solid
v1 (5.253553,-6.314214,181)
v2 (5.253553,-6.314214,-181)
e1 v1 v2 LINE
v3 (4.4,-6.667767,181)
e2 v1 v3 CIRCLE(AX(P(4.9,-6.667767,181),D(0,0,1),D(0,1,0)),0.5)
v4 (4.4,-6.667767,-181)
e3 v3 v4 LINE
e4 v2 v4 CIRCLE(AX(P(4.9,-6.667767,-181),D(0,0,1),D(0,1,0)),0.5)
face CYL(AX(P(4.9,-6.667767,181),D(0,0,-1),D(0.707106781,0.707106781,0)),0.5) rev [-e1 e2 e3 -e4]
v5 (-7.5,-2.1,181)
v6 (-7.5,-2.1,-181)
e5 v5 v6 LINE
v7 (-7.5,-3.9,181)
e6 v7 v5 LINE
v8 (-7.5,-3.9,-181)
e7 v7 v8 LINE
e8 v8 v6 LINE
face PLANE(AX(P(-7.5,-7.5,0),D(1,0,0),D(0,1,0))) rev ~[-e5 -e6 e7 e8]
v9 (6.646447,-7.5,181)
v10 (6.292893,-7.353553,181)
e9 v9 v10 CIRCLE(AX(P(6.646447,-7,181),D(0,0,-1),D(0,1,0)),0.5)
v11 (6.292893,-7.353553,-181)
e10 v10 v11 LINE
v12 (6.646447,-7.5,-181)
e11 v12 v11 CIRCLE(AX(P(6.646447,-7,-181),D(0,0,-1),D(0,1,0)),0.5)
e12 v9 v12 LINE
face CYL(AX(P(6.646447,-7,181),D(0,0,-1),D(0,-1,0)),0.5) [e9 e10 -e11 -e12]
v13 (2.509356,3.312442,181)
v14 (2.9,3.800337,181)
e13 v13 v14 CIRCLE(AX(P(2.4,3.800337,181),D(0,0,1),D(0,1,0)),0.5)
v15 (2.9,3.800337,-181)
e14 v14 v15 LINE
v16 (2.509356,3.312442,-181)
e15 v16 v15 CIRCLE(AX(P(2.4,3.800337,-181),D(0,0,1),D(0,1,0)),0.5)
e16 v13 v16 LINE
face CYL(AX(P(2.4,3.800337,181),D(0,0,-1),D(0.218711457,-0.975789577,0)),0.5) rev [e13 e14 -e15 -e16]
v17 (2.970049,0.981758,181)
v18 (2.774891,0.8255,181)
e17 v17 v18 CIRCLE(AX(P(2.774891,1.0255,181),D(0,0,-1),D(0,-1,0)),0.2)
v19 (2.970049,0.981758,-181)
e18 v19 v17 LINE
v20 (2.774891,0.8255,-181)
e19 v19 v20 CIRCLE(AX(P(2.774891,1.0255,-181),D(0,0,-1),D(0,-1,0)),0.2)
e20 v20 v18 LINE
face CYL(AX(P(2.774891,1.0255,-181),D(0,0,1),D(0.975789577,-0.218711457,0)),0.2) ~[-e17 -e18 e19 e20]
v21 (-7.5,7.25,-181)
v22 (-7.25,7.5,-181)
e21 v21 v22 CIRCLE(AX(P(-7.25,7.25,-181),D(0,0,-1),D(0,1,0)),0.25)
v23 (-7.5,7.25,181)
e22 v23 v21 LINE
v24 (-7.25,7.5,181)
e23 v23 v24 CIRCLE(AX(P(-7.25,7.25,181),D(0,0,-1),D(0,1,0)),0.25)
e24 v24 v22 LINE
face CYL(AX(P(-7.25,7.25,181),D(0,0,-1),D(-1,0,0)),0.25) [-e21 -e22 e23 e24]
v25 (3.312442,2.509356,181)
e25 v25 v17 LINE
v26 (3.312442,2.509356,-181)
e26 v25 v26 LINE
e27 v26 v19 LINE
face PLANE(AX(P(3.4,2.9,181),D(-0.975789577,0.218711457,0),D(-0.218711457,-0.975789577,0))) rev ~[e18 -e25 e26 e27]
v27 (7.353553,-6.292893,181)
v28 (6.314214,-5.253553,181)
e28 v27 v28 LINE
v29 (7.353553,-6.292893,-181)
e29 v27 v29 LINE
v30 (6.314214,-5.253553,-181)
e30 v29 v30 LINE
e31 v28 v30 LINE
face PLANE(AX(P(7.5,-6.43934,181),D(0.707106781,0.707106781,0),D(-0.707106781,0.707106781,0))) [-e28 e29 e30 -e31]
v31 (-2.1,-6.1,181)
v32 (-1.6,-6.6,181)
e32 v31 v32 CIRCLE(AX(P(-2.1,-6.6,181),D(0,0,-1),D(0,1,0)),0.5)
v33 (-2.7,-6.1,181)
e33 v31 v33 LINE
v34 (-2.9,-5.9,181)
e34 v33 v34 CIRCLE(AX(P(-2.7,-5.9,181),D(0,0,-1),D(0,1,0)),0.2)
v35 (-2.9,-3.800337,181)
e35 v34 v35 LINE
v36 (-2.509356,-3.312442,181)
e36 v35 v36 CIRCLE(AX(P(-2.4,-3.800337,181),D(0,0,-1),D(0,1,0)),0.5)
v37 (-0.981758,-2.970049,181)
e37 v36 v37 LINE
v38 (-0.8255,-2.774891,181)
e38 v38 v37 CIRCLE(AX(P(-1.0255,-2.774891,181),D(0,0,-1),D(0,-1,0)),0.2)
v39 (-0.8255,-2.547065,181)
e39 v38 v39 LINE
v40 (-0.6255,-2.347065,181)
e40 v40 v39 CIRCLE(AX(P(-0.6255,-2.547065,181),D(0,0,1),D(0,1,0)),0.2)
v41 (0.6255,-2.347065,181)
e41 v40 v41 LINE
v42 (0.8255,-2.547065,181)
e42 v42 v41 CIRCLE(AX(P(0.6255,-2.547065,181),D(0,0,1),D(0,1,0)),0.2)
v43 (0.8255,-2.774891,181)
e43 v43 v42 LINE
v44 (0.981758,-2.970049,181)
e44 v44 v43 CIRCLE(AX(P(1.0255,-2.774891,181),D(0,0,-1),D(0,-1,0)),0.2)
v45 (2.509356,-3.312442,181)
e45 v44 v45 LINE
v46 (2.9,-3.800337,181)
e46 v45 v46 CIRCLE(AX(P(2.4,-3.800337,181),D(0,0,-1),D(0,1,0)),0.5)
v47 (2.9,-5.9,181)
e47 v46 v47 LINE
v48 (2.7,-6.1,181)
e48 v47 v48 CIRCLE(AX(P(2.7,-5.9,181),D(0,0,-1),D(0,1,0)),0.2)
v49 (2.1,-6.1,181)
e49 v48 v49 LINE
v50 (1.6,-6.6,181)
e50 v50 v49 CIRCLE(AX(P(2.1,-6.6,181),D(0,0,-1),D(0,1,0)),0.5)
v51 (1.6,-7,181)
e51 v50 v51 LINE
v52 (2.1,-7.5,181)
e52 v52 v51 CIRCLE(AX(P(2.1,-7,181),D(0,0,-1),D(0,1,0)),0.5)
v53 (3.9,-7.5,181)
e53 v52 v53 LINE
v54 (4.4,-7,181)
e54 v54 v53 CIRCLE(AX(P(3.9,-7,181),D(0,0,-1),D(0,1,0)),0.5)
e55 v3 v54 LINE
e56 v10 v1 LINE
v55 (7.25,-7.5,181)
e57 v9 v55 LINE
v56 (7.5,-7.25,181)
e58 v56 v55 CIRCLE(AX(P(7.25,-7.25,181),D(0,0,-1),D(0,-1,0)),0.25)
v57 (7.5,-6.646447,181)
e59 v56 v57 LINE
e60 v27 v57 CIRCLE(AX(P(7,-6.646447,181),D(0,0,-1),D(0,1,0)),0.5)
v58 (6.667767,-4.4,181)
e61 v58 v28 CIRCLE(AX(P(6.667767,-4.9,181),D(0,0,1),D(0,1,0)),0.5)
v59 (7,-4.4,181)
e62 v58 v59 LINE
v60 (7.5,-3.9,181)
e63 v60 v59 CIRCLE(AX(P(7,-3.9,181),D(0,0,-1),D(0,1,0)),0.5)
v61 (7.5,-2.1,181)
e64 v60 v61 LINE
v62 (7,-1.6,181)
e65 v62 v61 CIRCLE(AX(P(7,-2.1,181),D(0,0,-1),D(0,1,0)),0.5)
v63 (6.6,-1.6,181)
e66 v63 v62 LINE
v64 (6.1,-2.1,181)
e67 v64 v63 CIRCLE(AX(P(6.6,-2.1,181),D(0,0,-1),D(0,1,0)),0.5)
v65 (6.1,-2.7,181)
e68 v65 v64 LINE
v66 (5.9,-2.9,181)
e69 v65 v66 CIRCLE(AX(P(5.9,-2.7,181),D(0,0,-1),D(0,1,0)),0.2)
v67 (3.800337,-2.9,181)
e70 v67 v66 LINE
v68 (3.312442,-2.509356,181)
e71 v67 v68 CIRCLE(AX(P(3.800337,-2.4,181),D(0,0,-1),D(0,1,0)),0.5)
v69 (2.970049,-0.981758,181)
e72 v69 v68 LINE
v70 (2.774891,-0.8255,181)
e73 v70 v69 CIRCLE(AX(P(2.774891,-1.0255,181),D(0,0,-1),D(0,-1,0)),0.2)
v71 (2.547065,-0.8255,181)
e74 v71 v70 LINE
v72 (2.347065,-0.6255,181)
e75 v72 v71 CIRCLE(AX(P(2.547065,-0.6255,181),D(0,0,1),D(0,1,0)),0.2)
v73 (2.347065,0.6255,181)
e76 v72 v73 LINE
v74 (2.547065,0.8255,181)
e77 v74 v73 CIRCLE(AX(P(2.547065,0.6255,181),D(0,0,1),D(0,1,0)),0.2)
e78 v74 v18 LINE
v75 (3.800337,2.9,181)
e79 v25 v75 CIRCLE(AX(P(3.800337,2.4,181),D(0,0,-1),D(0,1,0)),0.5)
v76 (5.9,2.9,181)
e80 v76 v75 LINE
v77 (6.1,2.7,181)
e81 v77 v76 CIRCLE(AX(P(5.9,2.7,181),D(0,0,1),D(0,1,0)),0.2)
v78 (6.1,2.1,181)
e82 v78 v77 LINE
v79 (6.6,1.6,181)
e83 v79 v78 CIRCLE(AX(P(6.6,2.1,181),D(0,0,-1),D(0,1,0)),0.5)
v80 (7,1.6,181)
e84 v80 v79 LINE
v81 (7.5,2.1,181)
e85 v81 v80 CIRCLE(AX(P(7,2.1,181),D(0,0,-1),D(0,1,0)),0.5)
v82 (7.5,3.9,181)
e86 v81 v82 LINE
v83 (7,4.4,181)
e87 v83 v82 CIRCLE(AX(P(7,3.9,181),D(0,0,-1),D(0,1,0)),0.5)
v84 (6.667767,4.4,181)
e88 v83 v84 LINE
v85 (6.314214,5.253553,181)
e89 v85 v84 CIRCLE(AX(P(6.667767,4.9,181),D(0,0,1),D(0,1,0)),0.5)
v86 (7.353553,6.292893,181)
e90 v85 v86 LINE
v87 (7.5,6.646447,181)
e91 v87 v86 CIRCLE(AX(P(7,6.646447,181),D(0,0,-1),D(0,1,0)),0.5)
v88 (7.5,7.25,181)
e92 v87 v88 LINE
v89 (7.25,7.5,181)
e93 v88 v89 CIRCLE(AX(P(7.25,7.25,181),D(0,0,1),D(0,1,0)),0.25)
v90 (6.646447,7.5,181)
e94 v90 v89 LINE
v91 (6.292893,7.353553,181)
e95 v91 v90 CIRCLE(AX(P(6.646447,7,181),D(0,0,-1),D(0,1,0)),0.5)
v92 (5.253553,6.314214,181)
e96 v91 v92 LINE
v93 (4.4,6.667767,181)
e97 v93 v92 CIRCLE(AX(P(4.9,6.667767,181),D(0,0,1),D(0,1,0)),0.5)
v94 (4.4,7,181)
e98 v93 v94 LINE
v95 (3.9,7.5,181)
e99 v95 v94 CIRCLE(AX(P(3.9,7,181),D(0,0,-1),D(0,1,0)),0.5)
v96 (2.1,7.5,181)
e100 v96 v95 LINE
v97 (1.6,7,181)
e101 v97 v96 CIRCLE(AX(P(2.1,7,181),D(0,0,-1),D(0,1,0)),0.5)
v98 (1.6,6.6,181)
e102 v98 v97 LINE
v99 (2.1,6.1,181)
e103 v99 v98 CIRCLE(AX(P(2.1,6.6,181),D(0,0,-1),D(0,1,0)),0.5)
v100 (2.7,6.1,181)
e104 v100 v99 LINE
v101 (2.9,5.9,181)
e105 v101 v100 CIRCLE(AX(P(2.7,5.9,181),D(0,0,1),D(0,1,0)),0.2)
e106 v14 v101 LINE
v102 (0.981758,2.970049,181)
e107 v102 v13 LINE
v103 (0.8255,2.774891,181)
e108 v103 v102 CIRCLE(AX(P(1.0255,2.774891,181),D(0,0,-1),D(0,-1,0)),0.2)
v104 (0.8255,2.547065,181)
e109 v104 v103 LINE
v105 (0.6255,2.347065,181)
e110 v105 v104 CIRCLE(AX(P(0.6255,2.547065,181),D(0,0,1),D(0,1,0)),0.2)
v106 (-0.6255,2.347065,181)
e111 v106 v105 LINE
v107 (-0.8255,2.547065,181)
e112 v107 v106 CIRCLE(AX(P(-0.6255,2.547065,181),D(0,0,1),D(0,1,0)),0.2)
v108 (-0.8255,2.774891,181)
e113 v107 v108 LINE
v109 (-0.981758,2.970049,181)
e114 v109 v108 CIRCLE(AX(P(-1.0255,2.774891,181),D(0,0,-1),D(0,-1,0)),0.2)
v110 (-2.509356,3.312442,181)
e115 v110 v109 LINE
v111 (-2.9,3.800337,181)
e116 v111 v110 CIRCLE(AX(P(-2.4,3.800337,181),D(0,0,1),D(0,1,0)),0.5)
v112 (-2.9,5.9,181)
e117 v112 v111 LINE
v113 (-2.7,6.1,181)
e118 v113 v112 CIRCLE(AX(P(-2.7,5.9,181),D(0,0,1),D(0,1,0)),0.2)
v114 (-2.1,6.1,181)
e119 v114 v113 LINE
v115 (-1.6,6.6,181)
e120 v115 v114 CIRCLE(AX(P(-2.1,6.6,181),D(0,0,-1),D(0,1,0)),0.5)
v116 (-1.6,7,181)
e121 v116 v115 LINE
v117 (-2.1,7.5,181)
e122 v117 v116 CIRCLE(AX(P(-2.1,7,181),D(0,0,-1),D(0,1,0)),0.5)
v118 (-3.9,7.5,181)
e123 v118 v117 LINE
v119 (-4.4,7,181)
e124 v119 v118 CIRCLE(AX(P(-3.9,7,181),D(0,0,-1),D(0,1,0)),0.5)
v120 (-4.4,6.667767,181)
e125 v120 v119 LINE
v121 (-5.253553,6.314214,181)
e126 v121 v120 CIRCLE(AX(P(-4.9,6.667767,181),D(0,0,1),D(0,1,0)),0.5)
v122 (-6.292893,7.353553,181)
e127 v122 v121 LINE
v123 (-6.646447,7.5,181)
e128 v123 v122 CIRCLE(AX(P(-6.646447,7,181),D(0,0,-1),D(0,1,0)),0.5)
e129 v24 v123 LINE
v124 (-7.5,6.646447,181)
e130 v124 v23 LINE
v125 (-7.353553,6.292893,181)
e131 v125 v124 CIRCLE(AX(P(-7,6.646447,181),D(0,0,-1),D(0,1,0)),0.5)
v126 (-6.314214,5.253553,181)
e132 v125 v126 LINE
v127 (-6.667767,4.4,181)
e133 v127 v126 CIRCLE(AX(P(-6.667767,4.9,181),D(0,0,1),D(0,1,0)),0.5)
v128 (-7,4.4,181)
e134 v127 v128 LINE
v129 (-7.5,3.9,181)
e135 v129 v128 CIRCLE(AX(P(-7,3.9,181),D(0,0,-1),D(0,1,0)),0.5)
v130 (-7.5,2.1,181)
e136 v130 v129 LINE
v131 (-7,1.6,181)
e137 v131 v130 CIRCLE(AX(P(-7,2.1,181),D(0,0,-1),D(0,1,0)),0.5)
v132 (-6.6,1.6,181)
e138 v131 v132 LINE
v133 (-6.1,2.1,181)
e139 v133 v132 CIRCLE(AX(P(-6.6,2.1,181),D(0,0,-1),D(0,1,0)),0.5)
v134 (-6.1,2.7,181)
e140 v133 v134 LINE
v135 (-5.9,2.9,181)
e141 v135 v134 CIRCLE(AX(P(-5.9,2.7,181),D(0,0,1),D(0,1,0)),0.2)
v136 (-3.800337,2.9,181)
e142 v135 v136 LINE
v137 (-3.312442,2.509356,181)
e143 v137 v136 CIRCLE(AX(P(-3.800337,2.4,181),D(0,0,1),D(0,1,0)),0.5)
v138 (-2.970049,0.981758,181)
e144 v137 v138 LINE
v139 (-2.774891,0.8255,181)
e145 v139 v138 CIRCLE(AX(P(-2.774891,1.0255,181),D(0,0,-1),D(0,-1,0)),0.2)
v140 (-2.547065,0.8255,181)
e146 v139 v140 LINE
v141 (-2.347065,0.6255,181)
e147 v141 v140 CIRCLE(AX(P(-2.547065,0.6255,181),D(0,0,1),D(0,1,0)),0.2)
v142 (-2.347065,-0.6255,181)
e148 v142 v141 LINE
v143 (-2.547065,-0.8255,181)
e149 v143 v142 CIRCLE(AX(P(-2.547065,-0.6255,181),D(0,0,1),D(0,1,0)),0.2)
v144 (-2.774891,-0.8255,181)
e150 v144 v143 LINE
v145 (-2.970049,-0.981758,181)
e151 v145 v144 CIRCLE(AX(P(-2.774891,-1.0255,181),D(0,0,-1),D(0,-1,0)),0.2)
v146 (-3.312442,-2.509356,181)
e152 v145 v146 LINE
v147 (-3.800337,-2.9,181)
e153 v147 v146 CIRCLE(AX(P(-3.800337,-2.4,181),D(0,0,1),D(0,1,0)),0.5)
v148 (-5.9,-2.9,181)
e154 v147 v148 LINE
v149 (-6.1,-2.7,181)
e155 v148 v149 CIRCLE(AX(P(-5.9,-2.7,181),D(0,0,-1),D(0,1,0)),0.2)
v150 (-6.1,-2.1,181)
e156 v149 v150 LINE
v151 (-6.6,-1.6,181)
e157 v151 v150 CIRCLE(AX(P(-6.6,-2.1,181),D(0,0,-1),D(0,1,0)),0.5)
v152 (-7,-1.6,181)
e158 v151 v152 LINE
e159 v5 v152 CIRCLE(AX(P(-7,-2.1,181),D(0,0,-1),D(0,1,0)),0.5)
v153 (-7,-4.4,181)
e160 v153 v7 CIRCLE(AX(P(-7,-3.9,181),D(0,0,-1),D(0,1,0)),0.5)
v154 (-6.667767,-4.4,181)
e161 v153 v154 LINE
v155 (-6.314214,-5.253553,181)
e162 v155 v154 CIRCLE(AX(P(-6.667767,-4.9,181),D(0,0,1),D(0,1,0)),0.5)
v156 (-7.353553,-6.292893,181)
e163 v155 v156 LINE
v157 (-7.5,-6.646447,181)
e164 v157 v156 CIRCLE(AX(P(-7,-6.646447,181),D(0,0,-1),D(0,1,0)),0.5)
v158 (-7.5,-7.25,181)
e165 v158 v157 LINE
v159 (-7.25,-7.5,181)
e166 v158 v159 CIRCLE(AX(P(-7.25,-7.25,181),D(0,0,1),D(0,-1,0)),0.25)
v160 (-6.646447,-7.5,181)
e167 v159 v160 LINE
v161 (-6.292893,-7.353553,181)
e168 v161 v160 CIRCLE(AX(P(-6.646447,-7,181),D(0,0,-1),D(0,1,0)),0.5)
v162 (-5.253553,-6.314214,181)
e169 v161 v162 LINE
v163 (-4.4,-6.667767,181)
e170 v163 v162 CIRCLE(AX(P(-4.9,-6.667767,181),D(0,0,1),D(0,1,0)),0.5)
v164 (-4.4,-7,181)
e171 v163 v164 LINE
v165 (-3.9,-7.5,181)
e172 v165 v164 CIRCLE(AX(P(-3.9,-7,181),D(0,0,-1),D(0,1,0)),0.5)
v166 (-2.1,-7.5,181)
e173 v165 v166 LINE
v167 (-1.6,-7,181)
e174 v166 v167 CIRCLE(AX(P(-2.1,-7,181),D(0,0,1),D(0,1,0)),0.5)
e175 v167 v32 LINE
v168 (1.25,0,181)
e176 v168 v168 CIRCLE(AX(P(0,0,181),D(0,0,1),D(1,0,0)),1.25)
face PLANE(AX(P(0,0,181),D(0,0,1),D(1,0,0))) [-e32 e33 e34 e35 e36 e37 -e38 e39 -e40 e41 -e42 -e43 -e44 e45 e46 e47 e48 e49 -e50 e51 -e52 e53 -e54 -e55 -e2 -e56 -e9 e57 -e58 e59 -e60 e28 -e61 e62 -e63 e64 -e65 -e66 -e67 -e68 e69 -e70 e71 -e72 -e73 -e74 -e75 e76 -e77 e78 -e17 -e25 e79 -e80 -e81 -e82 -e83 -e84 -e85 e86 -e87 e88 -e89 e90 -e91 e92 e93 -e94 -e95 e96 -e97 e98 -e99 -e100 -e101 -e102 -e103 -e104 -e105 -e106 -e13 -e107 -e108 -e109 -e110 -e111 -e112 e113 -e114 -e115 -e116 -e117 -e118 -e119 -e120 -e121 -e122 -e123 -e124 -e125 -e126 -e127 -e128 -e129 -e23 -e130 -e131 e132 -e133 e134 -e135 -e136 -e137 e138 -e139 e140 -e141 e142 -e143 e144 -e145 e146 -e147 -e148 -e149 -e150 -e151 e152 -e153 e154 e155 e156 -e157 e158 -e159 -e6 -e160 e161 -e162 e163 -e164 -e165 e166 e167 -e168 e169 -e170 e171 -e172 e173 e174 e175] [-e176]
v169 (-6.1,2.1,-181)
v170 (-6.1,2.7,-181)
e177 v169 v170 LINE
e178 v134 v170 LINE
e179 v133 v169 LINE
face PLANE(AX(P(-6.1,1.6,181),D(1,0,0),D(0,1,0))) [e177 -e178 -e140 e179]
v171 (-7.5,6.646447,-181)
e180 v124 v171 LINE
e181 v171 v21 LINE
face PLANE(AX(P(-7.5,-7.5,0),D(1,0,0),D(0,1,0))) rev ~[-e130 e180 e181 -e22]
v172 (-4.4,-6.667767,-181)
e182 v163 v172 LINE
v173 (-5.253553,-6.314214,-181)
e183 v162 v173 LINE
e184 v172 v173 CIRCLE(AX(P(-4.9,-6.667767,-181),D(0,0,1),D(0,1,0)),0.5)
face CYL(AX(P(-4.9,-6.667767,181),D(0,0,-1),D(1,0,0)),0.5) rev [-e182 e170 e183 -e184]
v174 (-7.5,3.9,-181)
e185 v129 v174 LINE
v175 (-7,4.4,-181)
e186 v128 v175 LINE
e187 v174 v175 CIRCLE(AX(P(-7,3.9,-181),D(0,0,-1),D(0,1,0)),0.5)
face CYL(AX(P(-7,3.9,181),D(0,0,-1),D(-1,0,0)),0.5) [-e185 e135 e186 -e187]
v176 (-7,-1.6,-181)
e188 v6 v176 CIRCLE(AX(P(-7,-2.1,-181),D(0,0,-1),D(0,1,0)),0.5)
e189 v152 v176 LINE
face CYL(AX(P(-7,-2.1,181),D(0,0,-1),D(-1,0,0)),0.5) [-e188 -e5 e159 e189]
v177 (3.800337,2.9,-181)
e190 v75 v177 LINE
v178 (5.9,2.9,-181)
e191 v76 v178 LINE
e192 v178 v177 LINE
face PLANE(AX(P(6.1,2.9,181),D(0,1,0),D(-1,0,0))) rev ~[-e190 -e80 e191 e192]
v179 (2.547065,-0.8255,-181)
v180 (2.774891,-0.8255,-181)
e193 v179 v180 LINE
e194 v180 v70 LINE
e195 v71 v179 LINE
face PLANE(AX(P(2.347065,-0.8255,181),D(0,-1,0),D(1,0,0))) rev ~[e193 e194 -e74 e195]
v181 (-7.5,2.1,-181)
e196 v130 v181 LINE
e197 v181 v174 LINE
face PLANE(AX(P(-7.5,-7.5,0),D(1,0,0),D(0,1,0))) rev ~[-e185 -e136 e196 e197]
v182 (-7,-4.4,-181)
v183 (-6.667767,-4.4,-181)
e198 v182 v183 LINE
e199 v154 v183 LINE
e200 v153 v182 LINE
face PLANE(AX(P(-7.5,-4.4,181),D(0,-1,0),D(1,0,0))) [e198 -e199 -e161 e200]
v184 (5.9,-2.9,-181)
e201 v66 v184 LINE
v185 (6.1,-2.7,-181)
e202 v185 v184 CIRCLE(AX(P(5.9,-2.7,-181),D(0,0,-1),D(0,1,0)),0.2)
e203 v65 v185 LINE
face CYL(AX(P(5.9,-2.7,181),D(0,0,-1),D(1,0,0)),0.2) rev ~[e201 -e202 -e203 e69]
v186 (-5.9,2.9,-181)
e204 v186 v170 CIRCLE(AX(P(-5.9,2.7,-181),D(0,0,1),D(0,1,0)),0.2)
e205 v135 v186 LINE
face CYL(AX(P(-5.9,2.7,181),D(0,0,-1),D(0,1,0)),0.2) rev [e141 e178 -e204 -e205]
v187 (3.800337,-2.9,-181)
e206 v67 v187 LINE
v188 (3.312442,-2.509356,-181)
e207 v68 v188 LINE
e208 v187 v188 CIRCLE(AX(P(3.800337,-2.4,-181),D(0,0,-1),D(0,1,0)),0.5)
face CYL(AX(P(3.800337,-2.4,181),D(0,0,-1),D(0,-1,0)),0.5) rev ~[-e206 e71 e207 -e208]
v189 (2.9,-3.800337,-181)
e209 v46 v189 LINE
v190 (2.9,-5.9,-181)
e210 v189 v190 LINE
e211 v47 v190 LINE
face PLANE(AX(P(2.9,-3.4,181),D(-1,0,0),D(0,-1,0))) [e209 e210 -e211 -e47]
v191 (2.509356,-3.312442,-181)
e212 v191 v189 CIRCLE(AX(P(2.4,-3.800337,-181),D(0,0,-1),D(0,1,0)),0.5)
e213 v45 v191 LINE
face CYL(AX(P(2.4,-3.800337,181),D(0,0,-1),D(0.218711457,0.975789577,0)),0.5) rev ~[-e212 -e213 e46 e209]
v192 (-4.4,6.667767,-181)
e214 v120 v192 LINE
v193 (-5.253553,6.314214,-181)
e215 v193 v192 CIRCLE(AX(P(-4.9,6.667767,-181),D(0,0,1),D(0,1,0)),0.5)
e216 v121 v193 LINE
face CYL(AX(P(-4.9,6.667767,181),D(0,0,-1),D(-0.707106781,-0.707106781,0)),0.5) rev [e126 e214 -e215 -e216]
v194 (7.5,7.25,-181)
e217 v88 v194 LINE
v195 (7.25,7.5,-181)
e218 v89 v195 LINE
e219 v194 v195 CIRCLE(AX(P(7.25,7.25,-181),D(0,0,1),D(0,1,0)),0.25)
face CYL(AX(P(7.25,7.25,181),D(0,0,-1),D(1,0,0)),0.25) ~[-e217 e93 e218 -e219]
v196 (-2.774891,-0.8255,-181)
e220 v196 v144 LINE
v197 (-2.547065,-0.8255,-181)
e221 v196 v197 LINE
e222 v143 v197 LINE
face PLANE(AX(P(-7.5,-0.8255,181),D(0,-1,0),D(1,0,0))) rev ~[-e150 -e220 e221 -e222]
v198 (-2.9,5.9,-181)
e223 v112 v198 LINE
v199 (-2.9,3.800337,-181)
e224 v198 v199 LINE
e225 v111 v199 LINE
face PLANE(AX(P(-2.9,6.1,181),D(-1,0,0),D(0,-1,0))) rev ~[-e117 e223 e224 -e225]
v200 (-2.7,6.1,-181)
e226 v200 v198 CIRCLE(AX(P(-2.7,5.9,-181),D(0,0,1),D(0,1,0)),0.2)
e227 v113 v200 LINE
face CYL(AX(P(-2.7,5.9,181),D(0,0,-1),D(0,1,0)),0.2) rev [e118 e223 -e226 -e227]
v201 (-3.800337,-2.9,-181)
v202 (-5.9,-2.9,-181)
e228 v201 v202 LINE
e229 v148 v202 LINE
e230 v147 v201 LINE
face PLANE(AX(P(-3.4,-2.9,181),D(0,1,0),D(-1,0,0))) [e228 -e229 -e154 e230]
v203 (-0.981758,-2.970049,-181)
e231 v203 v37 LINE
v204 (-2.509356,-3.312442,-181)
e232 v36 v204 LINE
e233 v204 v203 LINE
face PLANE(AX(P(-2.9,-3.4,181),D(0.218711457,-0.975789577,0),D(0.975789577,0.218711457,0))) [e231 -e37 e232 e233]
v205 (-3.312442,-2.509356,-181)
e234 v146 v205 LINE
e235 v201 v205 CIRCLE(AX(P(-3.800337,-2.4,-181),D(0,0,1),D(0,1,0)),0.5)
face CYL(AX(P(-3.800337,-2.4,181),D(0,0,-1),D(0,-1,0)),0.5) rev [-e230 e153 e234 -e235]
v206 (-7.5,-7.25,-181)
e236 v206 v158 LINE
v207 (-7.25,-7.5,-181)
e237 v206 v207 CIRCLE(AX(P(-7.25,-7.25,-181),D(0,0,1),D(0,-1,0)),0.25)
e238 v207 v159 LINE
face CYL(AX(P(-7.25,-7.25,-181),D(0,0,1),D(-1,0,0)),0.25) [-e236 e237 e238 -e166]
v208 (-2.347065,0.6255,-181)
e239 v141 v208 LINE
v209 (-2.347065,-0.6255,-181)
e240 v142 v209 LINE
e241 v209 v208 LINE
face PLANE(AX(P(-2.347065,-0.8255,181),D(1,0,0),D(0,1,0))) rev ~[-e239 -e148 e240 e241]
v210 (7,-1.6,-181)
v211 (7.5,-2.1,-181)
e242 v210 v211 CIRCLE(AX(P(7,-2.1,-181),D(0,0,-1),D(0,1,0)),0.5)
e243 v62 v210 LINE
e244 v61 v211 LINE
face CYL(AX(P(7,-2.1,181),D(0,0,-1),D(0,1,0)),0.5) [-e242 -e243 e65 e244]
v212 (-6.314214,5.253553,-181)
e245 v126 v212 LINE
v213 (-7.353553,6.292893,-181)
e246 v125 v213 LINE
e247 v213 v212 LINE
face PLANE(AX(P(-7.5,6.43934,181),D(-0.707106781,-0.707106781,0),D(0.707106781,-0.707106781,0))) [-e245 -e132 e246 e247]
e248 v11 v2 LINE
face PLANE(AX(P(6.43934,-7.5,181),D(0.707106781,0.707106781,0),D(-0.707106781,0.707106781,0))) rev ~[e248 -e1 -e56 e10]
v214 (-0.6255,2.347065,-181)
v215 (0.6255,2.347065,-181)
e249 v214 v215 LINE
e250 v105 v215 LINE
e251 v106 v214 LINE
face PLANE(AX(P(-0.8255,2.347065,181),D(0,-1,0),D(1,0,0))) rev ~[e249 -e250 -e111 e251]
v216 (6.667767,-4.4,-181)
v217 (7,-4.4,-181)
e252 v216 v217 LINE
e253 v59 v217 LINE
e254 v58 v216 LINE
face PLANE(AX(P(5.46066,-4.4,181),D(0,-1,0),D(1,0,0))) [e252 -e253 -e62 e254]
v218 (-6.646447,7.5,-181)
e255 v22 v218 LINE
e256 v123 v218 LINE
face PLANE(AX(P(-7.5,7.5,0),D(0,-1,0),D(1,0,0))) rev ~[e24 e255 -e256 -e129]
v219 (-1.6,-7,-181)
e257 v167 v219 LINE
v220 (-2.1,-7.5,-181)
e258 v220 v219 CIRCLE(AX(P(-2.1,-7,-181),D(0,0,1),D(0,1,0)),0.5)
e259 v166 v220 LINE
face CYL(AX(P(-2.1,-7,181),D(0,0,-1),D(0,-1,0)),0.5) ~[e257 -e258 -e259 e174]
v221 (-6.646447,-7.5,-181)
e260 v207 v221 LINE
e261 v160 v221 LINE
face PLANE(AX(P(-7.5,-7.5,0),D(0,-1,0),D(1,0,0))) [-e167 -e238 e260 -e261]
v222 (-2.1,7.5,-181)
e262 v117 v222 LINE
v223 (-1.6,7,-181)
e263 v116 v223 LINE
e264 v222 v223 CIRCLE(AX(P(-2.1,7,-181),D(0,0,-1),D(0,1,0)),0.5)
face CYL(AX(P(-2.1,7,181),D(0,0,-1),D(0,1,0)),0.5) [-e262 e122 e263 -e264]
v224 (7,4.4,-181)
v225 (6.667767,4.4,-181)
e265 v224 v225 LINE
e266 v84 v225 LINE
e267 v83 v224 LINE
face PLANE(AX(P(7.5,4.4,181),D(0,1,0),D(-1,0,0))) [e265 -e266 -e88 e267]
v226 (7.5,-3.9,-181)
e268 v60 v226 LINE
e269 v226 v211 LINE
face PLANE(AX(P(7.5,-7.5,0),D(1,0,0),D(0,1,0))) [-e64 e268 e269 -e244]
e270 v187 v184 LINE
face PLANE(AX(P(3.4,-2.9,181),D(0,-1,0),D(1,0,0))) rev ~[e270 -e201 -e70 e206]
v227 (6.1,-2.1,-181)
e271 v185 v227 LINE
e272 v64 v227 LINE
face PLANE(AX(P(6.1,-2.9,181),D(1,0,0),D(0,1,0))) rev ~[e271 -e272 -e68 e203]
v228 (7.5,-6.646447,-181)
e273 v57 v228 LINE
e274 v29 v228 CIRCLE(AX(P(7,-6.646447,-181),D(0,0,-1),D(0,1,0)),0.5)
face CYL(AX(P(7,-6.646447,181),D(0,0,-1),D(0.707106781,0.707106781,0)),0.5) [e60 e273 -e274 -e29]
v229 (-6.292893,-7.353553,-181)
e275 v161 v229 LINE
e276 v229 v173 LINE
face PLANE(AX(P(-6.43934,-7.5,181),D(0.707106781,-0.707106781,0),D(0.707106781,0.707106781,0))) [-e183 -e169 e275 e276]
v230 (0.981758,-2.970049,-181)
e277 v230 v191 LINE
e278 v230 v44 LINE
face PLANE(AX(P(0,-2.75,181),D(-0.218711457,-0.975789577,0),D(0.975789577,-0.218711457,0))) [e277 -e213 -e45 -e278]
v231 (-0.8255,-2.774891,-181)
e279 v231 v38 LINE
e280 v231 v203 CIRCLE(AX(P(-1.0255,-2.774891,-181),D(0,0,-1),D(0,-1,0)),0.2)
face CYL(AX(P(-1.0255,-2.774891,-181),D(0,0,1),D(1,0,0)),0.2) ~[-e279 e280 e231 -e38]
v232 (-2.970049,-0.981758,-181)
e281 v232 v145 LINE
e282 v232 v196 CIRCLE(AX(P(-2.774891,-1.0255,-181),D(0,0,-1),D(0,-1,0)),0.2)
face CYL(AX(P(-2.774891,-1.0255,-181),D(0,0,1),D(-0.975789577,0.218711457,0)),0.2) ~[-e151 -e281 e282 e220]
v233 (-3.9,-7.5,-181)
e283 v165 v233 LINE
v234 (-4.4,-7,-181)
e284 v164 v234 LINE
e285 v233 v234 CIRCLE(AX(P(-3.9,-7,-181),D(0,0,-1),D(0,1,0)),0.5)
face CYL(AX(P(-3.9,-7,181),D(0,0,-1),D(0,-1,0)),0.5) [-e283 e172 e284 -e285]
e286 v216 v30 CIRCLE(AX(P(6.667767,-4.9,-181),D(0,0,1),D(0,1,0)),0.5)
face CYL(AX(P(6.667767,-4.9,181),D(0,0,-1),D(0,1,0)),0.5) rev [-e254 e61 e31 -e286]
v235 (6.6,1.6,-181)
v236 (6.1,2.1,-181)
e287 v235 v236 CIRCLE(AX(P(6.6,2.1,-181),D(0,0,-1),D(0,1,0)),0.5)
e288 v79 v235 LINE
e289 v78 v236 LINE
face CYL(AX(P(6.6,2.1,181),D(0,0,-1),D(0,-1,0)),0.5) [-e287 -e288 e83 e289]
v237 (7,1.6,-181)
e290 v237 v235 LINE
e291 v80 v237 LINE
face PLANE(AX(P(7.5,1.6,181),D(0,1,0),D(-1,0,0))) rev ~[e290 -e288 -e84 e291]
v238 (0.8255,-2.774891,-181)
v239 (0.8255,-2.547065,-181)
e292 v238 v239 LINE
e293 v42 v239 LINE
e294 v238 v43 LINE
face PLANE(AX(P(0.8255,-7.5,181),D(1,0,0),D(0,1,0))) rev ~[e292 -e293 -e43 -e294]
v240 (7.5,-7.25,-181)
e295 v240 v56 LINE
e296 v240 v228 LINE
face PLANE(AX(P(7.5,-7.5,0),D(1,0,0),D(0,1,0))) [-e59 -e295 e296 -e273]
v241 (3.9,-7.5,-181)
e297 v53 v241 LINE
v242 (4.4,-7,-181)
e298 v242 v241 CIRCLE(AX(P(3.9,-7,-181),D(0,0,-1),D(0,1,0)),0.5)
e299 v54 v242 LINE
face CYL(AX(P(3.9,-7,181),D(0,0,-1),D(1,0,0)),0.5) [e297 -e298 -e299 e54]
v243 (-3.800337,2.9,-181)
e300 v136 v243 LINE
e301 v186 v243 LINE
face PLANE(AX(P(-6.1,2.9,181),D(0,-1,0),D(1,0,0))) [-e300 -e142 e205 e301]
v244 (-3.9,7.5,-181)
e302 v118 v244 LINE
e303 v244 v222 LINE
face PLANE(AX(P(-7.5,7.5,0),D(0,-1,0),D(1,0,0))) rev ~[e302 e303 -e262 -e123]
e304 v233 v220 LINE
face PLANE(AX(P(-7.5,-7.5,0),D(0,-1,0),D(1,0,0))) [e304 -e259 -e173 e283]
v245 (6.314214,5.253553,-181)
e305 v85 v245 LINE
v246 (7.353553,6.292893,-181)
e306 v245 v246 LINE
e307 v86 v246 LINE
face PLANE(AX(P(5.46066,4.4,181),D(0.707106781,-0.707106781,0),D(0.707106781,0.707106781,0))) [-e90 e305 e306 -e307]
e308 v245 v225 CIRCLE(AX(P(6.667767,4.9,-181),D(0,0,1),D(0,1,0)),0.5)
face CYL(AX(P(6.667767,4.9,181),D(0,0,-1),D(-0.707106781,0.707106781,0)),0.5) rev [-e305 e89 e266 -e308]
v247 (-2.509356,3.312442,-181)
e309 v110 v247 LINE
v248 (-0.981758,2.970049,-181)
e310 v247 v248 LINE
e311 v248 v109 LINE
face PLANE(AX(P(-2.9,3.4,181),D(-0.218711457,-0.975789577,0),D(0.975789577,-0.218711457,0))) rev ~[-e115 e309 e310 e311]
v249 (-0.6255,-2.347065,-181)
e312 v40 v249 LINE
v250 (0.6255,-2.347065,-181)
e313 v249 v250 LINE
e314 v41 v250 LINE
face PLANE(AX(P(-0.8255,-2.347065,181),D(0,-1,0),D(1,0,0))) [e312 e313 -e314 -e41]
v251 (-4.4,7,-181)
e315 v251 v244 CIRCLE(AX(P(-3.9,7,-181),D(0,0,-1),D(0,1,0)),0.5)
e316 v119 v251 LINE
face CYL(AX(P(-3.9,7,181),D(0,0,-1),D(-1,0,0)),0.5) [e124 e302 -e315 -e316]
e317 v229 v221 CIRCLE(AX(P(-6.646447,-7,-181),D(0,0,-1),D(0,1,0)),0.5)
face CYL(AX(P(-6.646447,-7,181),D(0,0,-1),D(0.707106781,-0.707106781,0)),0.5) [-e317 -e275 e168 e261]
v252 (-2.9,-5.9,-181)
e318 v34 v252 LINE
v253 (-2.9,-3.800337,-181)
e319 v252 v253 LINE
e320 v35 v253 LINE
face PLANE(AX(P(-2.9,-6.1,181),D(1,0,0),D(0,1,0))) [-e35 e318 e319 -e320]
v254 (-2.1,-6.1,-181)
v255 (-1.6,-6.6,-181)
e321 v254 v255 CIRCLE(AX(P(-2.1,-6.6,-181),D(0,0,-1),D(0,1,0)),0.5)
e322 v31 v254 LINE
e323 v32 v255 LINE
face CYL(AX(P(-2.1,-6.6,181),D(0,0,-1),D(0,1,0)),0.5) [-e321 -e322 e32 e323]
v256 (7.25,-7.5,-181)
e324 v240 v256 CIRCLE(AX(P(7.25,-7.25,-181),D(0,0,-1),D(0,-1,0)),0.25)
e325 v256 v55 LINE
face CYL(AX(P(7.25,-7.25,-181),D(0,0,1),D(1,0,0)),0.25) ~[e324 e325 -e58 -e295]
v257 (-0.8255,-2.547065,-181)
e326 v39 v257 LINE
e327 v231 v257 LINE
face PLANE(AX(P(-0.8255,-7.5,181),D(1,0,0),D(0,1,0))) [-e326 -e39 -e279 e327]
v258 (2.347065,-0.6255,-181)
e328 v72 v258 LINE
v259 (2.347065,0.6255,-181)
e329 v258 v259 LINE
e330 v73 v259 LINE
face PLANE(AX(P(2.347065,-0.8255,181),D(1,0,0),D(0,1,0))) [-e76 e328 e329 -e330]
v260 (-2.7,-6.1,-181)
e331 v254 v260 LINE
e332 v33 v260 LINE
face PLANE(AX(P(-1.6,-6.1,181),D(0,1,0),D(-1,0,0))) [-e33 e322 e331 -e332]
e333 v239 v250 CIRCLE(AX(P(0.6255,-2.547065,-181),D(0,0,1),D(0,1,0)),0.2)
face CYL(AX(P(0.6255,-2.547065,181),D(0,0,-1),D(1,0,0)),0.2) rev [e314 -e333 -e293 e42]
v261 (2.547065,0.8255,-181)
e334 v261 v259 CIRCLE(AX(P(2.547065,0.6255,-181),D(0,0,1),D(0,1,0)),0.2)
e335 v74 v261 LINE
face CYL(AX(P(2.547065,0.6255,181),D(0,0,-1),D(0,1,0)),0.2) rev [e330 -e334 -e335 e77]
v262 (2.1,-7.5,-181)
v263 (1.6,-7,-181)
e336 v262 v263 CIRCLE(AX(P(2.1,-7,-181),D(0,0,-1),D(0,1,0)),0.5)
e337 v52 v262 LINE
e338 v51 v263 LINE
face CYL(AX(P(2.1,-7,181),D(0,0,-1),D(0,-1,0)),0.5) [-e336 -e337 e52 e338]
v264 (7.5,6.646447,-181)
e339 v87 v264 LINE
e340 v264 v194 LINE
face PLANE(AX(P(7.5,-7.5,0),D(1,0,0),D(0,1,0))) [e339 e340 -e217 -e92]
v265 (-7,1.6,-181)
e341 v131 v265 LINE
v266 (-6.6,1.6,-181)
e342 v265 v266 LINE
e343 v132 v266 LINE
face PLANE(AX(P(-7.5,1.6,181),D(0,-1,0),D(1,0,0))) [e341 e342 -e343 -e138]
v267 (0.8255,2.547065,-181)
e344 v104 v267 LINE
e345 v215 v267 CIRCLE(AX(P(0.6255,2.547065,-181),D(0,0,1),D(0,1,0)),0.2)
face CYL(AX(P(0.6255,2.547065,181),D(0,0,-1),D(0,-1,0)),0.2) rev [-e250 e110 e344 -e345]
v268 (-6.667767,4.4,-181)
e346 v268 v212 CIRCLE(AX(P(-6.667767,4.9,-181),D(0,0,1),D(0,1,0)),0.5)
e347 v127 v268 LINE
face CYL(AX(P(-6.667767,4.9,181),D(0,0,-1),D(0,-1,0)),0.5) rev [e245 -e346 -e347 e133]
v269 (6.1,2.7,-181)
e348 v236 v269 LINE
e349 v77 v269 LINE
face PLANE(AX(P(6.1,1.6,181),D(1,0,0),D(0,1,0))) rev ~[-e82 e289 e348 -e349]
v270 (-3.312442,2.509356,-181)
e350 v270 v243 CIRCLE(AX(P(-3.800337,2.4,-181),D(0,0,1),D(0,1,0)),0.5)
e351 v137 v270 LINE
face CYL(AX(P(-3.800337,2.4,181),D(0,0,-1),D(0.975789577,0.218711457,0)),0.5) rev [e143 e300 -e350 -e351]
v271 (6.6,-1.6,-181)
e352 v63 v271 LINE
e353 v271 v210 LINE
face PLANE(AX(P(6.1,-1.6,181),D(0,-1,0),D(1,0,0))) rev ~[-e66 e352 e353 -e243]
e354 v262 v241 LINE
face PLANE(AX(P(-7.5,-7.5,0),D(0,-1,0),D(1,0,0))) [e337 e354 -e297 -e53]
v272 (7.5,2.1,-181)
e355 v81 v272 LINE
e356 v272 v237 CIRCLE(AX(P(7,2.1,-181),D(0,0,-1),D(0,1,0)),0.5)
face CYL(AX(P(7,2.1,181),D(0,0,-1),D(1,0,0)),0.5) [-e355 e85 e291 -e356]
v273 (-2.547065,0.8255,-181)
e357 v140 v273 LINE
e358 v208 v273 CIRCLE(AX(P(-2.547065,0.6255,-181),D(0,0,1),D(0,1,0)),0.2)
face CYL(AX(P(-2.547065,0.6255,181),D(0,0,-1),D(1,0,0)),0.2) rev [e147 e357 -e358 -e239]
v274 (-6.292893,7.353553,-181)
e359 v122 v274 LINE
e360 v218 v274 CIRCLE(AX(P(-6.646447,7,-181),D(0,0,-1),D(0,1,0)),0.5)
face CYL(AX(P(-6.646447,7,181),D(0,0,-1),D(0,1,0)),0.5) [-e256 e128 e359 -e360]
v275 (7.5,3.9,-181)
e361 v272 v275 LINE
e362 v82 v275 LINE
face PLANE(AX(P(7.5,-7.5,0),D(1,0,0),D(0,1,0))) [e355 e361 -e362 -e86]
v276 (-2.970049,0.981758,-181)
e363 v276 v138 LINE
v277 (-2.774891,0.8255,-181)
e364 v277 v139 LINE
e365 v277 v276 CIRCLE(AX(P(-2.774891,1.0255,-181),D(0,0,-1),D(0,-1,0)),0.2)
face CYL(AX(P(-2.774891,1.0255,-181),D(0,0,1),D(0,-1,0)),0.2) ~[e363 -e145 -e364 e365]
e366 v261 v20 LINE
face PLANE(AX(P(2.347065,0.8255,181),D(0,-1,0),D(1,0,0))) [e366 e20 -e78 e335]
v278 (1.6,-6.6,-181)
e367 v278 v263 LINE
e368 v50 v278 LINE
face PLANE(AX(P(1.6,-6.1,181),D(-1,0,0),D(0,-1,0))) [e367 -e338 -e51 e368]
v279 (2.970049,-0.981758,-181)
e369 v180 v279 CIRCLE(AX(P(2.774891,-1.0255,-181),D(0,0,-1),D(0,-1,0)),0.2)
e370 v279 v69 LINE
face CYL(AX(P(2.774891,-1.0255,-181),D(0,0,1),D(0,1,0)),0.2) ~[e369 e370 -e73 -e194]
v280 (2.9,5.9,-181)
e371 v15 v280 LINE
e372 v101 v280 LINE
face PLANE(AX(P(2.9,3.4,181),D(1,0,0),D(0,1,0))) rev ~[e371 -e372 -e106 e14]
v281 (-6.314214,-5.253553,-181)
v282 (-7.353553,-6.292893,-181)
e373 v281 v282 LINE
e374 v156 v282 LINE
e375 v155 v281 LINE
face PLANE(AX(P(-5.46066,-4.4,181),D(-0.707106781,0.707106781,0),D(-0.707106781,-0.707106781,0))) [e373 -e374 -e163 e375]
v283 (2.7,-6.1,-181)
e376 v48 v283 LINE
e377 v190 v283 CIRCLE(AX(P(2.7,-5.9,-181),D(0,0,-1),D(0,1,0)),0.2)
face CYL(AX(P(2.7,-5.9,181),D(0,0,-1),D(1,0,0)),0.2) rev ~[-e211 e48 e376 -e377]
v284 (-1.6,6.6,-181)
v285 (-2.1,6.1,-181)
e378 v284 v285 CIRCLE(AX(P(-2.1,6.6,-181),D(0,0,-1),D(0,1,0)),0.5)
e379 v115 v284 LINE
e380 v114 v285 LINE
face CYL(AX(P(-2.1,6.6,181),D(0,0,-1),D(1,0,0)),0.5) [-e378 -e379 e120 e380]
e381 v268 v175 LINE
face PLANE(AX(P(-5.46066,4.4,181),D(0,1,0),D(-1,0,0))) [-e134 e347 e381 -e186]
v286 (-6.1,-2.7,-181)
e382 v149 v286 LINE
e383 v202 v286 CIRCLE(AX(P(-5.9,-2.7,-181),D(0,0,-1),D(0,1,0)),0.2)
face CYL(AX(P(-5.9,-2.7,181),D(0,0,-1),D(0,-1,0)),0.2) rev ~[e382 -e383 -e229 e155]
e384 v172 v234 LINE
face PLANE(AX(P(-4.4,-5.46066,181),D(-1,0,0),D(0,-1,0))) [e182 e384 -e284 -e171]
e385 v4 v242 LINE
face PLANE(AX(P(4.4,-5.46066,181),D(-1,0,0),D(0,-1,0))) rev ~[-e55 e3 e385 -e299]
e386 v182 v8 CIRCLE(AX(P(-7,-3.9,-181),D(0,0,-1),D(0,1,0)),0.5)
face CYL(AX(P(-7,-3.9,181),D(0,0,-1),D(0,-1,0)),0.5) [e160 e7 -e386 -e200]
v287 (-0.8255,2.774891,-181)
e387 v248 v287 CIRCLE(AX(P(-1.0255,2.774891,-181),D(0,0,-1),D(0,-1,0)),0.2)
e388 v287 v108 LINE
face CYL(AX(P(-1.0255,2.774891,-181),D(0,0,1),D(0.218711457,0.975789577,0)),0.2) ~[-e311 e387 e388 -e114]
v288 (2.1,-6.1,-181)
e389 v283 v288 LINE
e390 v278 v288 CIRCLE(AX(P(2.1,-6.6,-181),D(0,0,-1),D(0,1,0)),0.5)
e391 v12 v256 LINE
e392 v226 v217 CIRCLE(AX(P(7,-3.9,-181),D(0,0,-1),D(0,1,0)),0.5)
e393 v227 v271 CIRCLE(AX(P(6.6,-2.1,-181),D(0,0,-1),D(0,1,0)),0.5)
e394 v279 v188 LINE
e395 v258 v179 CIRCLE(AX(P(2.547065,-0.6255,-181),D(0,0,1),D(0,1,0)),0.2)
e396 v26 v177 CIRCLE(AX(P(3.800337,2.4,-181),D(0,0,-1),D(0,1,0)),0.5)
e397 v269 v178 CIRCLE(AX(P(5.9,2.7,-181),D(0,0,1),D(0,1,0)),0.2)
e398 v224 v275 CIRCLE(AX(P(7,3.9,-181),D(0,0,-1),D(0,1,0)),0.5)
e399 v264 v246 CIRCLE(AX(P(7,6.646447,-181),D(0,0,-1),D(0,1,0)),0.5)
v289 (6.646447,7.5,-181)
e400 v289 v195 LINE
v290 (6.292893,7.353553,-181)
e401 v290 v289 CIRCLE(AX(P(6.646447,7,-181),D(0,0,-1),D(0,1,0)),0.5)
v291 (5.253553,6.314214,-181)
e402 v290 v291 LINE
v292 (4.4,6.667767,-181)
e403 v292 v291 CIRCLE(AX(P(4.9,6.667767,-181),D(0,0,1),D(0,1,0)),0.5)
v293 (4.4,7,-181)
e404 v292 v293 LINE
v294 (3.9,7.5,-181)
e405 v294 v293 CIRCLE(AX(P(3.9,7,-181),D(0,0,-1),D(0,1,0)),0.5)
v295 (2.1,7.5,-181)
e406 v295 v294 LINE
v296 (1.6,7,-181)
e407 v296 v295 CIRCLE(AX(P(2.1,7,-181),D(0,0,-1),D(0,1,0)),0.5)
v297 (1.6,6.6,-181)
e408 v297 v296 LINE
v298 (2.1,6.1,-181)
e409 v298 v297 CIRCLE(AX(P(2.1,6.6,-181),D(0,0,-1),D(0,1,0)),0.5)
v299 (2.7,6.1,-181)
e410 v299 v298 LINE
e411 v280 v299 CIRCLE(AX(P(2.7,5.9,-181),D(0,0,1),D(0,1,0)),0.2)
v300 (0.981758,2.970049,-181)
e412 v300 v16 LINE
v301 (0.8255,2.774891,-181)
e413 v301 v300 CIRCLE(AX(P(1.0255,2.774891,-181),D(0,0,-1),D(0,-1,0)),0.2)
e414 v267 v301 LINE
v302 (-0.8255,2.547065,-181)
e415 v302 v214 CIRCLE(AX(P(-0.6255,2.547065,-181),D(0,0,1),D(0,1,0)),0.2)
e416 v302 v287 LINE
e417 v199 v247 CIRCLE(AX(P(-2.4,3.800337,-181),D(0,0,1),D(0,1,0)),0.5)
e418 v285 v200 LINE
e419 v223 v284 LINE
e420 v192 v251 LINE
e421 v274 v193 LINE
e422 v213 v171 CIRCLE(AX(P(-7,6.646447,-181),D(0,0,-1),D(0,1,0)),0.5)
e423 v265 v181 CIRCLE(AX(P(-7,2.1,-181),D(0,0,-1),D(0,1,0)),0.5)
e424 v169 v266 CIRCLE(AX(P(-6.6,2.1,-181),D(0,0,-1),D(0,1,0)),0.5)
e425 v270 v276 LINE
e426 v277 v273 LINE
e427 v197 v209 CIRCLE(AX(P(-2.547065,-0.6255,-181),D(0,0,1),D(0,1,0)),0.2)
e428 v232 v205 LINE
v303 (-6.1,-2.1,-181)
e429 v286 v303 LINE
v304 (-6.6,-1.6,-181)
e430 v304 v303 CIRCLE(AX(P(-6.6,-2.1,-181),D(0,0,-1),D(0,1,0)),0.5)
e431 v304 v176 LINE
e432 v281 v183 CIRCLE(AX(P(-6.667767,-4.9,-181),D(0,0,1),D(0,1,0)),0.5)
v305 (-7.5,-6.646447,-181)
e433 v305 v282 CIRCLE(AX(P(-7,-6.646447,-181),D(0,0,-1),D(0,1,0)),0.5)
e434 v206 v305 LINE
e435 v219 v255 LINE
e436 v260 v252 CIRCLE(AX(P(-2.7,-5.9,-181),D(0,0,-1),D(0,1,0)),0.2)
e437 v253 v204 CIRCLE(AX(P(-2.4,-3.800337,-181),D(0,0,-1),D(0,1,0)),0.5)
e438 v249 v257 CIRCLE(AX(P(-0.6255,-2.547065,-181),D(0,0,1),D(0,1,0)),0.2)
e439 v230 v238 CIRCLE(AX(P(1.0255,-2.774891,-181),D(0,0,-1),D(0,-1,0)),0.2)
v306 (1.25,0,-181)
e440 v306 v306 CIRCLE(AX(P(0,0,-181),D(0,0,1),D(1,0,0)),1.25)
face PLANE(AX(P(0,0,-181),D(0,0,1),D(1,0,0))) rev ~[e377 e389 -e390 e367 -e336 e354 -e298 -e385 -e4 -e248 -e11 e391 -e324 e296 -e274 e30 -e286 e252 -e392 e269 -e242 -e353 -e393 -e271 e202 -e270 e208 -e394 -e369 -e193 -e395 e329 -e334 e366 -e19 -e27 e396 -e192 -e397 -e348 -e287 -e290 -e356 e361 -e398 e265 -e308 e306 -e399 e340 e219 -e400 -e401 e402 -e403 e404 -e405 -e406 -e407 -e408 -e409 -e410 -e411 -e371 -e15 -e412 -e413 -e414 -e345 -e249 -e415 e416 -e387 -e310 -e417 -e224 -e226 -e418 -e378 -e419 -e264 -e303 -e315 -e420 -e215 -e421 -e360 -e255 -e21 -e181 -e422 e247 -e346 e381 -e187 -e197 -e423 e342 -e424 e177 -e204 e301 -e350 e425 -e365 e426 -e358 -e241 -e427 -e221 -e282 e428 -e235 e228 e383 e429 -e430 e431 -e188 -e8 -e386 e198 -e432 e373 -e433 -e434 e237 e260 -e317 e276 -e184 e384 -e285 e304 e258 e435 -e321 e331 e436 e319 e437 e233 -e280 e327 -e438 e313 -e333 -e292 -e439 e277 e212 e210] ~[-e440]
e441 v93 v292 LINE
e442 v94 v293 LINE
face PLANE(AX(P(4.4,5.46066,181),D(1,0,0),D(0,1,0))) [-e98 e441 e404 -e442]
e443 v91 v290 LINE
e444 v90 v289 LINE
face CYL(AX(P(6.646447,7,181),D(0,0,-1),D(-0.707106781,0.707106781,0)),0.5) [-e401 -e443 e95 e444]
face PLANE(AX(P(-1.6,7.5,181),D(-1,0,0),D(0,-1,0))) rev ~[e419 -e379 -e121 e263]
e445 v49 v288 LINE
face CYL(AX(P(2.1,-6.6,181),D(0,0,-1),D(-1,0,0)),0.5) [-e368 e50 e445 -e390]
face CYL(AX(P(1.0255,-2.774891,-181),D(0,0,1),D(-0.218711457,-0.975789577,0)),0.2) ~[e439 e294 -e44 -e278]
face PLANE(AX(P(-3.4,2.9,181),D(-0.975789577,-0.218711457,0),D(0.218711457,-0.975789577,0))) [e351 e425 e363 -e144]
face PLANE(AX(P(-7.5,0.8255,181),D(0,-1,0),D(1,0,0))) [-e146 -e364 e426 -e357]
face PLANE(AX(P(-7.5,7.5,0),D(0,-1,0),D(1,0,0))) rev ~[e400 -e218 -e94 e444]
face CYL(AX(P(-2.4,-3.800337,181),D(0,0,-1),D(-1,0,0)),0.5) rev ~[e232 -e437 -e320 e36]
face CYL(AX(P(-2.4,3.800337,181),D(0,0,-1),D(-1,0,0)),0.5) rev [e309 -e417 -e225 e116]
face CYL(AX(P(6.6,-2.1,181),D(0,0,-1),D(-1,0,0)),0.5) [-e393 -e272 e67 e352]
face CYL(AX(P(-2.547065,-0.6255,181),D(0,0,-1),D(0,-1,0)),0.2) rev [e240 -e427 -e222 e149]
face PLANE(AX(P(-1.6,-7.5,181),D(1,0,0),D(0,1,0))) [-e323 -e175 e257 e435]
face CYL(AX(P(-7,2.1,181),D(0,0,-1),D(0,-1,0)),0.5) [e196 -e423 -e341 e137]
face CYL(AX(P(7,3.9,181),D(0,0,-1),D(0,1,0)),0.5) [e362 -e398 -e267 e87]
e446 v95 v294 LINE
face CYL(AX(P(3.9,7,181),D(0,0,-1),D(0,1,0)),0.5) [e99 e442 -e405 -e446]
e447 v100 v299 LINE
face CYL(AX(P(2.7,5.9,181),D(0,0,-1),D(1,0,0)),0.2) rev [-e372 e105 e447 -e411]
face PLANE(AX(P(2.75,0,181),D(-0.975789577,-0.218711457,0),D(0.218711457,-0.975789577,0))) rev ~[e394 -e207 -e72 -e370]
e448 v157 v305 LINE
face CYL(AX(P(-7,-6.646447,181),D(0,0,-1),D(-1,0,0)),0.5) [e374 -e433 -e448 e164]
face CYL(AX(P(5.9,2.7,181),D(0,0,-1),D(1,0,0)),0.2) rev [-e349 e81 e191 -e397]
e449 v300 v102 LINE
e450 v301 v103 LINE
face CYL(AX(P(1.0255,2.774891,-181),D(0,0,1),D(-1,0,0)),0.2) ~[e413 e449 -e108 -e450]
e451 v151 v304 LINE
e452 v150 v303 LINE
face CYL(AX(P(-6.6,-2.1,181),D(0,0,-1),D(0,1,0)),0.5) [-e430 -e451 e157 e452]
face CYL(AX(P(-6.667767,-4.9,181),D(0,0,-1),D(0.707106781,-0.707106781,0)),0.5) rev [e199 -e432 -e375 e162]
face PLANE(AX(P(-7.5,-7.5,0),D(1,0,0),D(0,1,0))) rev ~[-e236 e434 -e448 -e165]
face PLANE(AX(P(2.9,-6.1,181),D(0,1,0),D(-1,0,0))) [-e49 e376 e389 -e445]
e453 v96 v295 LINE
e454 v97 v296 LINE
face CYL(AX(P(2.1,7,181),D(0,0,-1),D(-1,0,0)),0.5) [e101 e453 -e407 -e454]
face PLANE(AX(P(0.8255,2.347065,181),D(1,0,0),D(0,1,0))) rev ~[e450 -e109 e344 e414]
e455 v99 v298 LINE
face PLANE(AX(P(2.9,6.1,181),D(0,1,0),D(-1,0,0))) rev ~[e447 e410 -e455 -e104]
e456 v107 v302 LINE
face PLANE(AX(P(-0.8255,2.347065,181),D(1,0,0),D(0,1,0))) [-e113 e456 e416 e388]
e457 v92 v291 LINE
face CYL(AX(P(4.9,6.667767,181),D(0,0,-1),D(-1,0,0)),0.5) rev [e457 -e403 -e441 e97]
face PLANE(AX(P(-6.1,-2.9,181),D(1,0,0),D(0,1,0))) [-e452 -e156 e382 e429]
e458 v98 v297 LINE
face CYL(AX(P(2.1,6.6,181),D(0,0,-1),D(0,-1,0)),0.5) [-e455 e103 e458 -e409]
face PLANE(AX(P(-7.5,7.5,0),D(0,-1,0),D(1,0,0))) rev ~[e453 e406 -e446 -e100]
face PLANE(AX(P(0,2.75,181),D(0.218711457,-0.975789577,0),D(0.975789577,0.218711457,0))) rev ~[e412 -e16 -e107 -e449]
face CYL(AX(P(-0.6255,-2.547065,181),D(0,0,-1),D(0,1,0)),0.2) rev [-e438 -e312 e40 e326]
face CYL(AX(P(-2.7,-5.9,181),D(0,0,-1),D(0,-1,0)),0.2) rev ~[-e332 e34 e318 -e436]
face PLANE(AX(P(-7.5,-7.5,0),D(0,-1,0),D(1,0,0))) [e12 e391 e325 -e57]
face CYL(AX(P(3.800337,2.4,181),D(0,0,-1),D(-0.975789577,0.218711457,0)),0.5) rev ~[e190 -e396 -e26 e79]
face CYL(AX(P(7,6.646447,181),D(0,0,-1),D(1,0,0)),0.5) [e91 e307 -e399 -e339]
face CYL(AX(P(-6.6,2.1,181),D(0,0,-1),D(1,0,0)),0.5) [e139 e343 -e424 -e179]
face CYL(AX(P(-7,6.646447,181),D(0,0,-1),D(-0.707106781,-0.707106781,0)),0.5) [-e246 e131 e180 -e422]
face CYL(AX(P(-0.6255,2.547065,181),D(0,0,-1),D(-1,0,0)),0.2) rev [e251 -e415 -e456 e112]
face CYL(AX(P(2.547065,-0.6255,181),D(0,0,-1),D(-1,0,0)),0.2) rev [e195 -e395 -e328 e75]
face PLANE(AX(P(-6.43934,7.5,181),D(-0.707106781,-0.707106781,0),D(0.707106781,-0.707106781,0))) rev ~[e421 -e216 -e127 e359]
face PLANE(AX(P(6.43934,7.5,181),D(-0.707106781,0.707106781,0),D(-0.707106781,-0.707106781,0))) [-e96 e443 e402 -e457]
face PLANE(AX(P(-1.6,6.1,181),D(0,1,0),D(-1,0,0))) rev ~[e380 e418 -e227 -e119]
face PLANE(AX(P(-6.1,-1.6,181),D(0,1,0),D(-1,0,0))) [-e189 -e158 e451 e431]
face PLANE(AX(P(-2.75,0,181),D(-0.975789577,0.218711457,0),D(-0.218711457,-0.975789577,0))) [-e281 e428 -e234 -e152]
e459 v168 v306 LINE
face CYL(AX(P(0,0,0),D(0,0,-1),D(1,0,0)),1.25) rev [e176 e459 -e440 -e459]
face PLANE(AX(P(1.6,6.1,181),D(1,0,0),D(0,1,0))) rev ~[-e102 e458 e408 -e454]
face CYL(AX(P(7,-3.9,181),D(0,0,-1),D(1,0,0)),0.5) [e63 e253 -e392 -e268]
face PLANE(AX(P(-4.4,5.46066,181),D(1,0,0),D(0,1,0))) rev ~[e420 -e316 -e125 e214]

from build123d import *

# Parameters (mm, degrees)
SKETCH1_W           = 15
SKETCH1_H           = 15
SKETCH1_R           = 1.25
BOSS_EXTRUDE1_DEPTH = 181
FILLET1_R           = 0.25
CUT_EXTRUDE1_DEPTH  = 363.155353405
CUT_EXTRUDE3_DEPTH  = 363.155353405
FILLET3_R           = 0.5
FILLET4_R           = 0.5
FILLET5_R           = 3
FILLET6_R           = 0.2
CUT_EXTRUDE4_DEPTH  = 363.155353405
FILLET8_R           = 0.5
SKETCH6_W           = 5.1529354
SKETCH6_H           = 1.651
SKETCH6_W_2         = 1.651
SKETCH6_H_2         = 5.1529354
CUT_EXTRUDE5_DEPTH  = 363.155353405
FILLET10_R          = 0.2


with BuildPart() as part:
    # Sketch1 → Boss-Extrude1 (new, symmetric)
    with BuildSketch(Plane.XY):
        Rectangle(SKETCH1_W, SKETCH1_H)
        Circle(SKETCH1_R, mode=Mode.SUBTRACT)
    extrude(amount=BOSS_EXTRUDE1_DEPTH, both=True)

    # Fillet1
    fillet1_edges = [part.edges().sort_by_distance(p)[0] for p in [
        (7.5, -7.5, 0),
        (-7.5, -7.5, 0),
        (-7.5, 7.5, 0),
        (7.5, 7.5, 0),
    ]]
    fillet(fillet1_edges, radius=FILLET1_R)

    # Sketch2 → Cut-Extrude1 (cut, through all)
    with BuildSketch(Plane.XY.offset(181)):
        Polygon((-7.5, 1.6), (-6.1, 1.6), (-6.1, 2.9), (-3.4, 2.9), (-3.4, -2.9), (-6.1, -2.9), (-6.1, -1.6), (-7.5, -1.6), align=None)
        Polygon((2.9, 6.1), (1.6, 6.1), (1.6, 7.5), (-1.6, 7.5), (-1.6, 6.1), (-2.9, 6.1), (-2.9, 3.4), (2.9, 3.4), align=None)
        Polygon((-1.6, -7.5), (-1.6, -6.1), (-2.9, -6.1), (-2.9, -3.4), (2.9, -3.4), (2.9, -6.1), (1.6, -6.1), (1.6, -7.5), align=None)
        Polygon((6.1, -2.9), (6.1, -1.6), (7.5, -1.6), (7.5, 1.6), (6.1, 1.6), (6.1, 2.9), (3.4, 2.9), (3.4, -2.9), align=None)
    extrude(amount=-CUT_EXTRUDE1_DEPTH, mode=Mode.SUBTRACT)

    # Sketch4 → Cut-Extrude3 (cut, through all)
    with BuildSketch(Plane.XY.offset(181)):
        Polygon((-3.4, 2.9), (-2.75, 0), (-3.4, -2.9), align=None)
        Polygon((-2.9, 3.4), (0, 2.75), (2.9, 3.4), align=None)
        Polygon((3.4, 2.9), (2.75, 0), (3.4, -2.9), align=None)
        Polygon((-2.9, -3.4), (0, -2.75), (2.9, -3.4), align=None)
    extrude(amount=-CUT_EXTRUDE3_DEPTH, mode=Mode.SUBTRACT)

    # Fillet3
    fillet3_edges = [part.edges().sort_by_distance(p)[0] for p in [
        (1.6, -7.5, 0),
        (-1.6, -7.5, 0),
        (-1.6, -6.1, 0),
        (1.6, -6.1, 0),
        (6.1, 1.6, 0),
        (7.5, 1.6, 0),
        (7.5, -1.6, 0),
        (6.1, -1.6, 0),
        (-7.5, -1.6, 0),
        (-7.5, 1.6, 0),
        (-6.1, 1.6, 0),
        (-6.1, -1.6, 0),
        (-1.6, 6.1, 0),
        (-1.6, 7.5, 0),
        (1.6, 7.5, 0),
        (1.6, 6.1, 0),
    ]]
    fillet(fillet3_edges, radius=FILLET3_R)

    # Fillet4
    fillet4_edges = [part.edges().sort_by_distance(p)[0] for p in [
        (-2.9, -3.4, 0),
        (2.9, -3.4, 0),
        (3.4, -2.9, 0),
        (3.4, 2.9, 0),
        (-3.4, 2.9, 0),
        (-3.4, -2.9, 0),
        (2.9, 3.4, 0),
        (-2.9, 3.4, 0),
    ]]
    fillet(fillet4_edges, radius=FILLET4_R)

    # Fillet5
    fillet5_edges = [part.edges().sort_by_distance(p)[0] for p in [
        (-2.75, 0, 0),
        (0, 2.75, 0),
        (2.75, 0, 0),
        (0, -2.75, 0),
    ]]
    fillet(fillet5_edges, radius=FILLET5_R)

    # Fillet6
    fillet6_edges = [part.edges().sort_by_distance(p)[0] for p in [
        (-2.9, -6.1, 0),
        (2.9, -6.1, 0),
        (6.1, -2.9, 0),
        (6.1, 2.9, 0),
        (-6.1, 2.9, 0),
        (-6.1, -2.9, 0),
        (2.9, 6.1, 0),
        (-2.9, 6.1, 0),
    ]]
    fillet(fillet6_edges, radius=FILLET6_R)

    # Sketch5 → Cut-Extrude4 (cut, through all)
    with BuildSketch(Plane.XY.offset(181)):
        Polygon((-7.5, 6.439339828), (-5.460660172, 4.4), (-7.5, 4.4), align=None)
        Polygon((-6.439339828, 7.5), (-4.4, 5.460660172), (-4.4, 7.5), align=None)
        Polygon((4.4, 7.5), (6.439339828, 7.5), (4.4, 5.460660172), align=None)
        Polygon((7.5, 6.439339828), (7.5, 4.4), (5.460660172, 4.4), align=None)
        Polygon((7.5, -6.439339828), (5.460660172, -4.4), (7.5, -4.4), align=None)
        Polygon((6.439339828, -7.5), (4.4, -5.460660172), (4.4, -7.5), align=None)
        Polygon((-4.4, -7.5), (-6.439339828, -7.5), (-4.4, -5.460660172), align=None)
        Polygon((-7.5, -6.439339828), (-7.5, -4.4), (-5.460660172, -4.4), align=None)
    extrude(amount=-CUT_EXTRUDE4_DEPTH, mode=Mode.SUBTRACT)

    # Fillet8
    fillet8_edges = [part.edges().sort_by_distance(p)[0] for p in [
        (-7.5, 4.4, 0),
        (-7.5, 6.439339828, 0),
        (-5.460660172, 4.4, 0),
        (7.5, -4.4, 0),
        (7.5, -6.439339828, 0),
        (5.460660172, -4.4, 0),
        (5.460660172, 4.4, 0),
        (7.5, 6.439339828, 0),
        (7.5, 4.4, 0),
        (-4.4, 7.5, 0),
        (-4.4, 5.460660172, 0),
        (-6.439339828, 7.5, 0),
        (-5.460660172, -4.4, 0),
        (-7.5, -6.439339828, 0),
        (-7.5, -4.4, 0),
        (4.4, 5.460660172, 0),
        (4.4, 7.5, 0),
        (6.439339828, 7.5, 0),
        (6.439339828, -7.5, 0),
        (4.4, -7.5, 0),
        (4.4, -5.460660172, 0),
        (-6.439339828, -7.5, 0),
        (-4.4, -5.460660172, 0),
        (-4.4, -7.5, 0),
    ]]
    fillet(fillet8_edges, radius=FILLET8_R)

    # Sketch6 → Cut-Extrude5 (cut, through all)
    with BuildSketch(Plane.XY.offset(181)):
        with Locations((4.9235323, 0)):
            Rectangle(SKETCH6_W, SKETCH6_H)
        with Locations((0, -4.9235323)):
            Rectangle(SKETCH6_W_2, SKETCH6_H_2)
        with Locations((-4.9235323, 0)):
            Rectangle(SKETCH6_W, SKETCH6_H)
        with Locations((0, 4.9235323)):
            Rectangle(SKETCH6_W_2, SKETCH6_H_2)
    extrude(amount=-CUT_EXTRUDE5_DEPTH, mode=Mode.SUBTRACT)

    # Fillet10
    fillet10_edges = [part.edges().sort_by_distance(p)[0] for p in [
        (0.8255, -2.935025862, 0),
        (-0.8255, -2.935025862, 0),
        (0.8255, -2.3470646, 0),
        (-0.8255, -2.3470646, 0),
        (2.935025862, 0.8255, 0),
        (2.935025862, -0.8255, 0),
        (2.3470646, 0.8255, 0),
        (2.3470646, -0.8255, 0),
        (-2.935025862, -0.8255, 0),
        (-2.935025862, 0.8255, 0),
        (-2.3470646, -0.8255, 0),
        (-2.3470646, 0.8255, 0),
        (-0.8255, 2.935025862, 0),
        (0.8255, 2.935025862, 0),
        (-0.8255, 2.3470646, 0),
        (0.8255, 2.3470646, 0),
    ]]
    fillet(fillet10_edges, radius=FILLET10_R)


solid = part.part
